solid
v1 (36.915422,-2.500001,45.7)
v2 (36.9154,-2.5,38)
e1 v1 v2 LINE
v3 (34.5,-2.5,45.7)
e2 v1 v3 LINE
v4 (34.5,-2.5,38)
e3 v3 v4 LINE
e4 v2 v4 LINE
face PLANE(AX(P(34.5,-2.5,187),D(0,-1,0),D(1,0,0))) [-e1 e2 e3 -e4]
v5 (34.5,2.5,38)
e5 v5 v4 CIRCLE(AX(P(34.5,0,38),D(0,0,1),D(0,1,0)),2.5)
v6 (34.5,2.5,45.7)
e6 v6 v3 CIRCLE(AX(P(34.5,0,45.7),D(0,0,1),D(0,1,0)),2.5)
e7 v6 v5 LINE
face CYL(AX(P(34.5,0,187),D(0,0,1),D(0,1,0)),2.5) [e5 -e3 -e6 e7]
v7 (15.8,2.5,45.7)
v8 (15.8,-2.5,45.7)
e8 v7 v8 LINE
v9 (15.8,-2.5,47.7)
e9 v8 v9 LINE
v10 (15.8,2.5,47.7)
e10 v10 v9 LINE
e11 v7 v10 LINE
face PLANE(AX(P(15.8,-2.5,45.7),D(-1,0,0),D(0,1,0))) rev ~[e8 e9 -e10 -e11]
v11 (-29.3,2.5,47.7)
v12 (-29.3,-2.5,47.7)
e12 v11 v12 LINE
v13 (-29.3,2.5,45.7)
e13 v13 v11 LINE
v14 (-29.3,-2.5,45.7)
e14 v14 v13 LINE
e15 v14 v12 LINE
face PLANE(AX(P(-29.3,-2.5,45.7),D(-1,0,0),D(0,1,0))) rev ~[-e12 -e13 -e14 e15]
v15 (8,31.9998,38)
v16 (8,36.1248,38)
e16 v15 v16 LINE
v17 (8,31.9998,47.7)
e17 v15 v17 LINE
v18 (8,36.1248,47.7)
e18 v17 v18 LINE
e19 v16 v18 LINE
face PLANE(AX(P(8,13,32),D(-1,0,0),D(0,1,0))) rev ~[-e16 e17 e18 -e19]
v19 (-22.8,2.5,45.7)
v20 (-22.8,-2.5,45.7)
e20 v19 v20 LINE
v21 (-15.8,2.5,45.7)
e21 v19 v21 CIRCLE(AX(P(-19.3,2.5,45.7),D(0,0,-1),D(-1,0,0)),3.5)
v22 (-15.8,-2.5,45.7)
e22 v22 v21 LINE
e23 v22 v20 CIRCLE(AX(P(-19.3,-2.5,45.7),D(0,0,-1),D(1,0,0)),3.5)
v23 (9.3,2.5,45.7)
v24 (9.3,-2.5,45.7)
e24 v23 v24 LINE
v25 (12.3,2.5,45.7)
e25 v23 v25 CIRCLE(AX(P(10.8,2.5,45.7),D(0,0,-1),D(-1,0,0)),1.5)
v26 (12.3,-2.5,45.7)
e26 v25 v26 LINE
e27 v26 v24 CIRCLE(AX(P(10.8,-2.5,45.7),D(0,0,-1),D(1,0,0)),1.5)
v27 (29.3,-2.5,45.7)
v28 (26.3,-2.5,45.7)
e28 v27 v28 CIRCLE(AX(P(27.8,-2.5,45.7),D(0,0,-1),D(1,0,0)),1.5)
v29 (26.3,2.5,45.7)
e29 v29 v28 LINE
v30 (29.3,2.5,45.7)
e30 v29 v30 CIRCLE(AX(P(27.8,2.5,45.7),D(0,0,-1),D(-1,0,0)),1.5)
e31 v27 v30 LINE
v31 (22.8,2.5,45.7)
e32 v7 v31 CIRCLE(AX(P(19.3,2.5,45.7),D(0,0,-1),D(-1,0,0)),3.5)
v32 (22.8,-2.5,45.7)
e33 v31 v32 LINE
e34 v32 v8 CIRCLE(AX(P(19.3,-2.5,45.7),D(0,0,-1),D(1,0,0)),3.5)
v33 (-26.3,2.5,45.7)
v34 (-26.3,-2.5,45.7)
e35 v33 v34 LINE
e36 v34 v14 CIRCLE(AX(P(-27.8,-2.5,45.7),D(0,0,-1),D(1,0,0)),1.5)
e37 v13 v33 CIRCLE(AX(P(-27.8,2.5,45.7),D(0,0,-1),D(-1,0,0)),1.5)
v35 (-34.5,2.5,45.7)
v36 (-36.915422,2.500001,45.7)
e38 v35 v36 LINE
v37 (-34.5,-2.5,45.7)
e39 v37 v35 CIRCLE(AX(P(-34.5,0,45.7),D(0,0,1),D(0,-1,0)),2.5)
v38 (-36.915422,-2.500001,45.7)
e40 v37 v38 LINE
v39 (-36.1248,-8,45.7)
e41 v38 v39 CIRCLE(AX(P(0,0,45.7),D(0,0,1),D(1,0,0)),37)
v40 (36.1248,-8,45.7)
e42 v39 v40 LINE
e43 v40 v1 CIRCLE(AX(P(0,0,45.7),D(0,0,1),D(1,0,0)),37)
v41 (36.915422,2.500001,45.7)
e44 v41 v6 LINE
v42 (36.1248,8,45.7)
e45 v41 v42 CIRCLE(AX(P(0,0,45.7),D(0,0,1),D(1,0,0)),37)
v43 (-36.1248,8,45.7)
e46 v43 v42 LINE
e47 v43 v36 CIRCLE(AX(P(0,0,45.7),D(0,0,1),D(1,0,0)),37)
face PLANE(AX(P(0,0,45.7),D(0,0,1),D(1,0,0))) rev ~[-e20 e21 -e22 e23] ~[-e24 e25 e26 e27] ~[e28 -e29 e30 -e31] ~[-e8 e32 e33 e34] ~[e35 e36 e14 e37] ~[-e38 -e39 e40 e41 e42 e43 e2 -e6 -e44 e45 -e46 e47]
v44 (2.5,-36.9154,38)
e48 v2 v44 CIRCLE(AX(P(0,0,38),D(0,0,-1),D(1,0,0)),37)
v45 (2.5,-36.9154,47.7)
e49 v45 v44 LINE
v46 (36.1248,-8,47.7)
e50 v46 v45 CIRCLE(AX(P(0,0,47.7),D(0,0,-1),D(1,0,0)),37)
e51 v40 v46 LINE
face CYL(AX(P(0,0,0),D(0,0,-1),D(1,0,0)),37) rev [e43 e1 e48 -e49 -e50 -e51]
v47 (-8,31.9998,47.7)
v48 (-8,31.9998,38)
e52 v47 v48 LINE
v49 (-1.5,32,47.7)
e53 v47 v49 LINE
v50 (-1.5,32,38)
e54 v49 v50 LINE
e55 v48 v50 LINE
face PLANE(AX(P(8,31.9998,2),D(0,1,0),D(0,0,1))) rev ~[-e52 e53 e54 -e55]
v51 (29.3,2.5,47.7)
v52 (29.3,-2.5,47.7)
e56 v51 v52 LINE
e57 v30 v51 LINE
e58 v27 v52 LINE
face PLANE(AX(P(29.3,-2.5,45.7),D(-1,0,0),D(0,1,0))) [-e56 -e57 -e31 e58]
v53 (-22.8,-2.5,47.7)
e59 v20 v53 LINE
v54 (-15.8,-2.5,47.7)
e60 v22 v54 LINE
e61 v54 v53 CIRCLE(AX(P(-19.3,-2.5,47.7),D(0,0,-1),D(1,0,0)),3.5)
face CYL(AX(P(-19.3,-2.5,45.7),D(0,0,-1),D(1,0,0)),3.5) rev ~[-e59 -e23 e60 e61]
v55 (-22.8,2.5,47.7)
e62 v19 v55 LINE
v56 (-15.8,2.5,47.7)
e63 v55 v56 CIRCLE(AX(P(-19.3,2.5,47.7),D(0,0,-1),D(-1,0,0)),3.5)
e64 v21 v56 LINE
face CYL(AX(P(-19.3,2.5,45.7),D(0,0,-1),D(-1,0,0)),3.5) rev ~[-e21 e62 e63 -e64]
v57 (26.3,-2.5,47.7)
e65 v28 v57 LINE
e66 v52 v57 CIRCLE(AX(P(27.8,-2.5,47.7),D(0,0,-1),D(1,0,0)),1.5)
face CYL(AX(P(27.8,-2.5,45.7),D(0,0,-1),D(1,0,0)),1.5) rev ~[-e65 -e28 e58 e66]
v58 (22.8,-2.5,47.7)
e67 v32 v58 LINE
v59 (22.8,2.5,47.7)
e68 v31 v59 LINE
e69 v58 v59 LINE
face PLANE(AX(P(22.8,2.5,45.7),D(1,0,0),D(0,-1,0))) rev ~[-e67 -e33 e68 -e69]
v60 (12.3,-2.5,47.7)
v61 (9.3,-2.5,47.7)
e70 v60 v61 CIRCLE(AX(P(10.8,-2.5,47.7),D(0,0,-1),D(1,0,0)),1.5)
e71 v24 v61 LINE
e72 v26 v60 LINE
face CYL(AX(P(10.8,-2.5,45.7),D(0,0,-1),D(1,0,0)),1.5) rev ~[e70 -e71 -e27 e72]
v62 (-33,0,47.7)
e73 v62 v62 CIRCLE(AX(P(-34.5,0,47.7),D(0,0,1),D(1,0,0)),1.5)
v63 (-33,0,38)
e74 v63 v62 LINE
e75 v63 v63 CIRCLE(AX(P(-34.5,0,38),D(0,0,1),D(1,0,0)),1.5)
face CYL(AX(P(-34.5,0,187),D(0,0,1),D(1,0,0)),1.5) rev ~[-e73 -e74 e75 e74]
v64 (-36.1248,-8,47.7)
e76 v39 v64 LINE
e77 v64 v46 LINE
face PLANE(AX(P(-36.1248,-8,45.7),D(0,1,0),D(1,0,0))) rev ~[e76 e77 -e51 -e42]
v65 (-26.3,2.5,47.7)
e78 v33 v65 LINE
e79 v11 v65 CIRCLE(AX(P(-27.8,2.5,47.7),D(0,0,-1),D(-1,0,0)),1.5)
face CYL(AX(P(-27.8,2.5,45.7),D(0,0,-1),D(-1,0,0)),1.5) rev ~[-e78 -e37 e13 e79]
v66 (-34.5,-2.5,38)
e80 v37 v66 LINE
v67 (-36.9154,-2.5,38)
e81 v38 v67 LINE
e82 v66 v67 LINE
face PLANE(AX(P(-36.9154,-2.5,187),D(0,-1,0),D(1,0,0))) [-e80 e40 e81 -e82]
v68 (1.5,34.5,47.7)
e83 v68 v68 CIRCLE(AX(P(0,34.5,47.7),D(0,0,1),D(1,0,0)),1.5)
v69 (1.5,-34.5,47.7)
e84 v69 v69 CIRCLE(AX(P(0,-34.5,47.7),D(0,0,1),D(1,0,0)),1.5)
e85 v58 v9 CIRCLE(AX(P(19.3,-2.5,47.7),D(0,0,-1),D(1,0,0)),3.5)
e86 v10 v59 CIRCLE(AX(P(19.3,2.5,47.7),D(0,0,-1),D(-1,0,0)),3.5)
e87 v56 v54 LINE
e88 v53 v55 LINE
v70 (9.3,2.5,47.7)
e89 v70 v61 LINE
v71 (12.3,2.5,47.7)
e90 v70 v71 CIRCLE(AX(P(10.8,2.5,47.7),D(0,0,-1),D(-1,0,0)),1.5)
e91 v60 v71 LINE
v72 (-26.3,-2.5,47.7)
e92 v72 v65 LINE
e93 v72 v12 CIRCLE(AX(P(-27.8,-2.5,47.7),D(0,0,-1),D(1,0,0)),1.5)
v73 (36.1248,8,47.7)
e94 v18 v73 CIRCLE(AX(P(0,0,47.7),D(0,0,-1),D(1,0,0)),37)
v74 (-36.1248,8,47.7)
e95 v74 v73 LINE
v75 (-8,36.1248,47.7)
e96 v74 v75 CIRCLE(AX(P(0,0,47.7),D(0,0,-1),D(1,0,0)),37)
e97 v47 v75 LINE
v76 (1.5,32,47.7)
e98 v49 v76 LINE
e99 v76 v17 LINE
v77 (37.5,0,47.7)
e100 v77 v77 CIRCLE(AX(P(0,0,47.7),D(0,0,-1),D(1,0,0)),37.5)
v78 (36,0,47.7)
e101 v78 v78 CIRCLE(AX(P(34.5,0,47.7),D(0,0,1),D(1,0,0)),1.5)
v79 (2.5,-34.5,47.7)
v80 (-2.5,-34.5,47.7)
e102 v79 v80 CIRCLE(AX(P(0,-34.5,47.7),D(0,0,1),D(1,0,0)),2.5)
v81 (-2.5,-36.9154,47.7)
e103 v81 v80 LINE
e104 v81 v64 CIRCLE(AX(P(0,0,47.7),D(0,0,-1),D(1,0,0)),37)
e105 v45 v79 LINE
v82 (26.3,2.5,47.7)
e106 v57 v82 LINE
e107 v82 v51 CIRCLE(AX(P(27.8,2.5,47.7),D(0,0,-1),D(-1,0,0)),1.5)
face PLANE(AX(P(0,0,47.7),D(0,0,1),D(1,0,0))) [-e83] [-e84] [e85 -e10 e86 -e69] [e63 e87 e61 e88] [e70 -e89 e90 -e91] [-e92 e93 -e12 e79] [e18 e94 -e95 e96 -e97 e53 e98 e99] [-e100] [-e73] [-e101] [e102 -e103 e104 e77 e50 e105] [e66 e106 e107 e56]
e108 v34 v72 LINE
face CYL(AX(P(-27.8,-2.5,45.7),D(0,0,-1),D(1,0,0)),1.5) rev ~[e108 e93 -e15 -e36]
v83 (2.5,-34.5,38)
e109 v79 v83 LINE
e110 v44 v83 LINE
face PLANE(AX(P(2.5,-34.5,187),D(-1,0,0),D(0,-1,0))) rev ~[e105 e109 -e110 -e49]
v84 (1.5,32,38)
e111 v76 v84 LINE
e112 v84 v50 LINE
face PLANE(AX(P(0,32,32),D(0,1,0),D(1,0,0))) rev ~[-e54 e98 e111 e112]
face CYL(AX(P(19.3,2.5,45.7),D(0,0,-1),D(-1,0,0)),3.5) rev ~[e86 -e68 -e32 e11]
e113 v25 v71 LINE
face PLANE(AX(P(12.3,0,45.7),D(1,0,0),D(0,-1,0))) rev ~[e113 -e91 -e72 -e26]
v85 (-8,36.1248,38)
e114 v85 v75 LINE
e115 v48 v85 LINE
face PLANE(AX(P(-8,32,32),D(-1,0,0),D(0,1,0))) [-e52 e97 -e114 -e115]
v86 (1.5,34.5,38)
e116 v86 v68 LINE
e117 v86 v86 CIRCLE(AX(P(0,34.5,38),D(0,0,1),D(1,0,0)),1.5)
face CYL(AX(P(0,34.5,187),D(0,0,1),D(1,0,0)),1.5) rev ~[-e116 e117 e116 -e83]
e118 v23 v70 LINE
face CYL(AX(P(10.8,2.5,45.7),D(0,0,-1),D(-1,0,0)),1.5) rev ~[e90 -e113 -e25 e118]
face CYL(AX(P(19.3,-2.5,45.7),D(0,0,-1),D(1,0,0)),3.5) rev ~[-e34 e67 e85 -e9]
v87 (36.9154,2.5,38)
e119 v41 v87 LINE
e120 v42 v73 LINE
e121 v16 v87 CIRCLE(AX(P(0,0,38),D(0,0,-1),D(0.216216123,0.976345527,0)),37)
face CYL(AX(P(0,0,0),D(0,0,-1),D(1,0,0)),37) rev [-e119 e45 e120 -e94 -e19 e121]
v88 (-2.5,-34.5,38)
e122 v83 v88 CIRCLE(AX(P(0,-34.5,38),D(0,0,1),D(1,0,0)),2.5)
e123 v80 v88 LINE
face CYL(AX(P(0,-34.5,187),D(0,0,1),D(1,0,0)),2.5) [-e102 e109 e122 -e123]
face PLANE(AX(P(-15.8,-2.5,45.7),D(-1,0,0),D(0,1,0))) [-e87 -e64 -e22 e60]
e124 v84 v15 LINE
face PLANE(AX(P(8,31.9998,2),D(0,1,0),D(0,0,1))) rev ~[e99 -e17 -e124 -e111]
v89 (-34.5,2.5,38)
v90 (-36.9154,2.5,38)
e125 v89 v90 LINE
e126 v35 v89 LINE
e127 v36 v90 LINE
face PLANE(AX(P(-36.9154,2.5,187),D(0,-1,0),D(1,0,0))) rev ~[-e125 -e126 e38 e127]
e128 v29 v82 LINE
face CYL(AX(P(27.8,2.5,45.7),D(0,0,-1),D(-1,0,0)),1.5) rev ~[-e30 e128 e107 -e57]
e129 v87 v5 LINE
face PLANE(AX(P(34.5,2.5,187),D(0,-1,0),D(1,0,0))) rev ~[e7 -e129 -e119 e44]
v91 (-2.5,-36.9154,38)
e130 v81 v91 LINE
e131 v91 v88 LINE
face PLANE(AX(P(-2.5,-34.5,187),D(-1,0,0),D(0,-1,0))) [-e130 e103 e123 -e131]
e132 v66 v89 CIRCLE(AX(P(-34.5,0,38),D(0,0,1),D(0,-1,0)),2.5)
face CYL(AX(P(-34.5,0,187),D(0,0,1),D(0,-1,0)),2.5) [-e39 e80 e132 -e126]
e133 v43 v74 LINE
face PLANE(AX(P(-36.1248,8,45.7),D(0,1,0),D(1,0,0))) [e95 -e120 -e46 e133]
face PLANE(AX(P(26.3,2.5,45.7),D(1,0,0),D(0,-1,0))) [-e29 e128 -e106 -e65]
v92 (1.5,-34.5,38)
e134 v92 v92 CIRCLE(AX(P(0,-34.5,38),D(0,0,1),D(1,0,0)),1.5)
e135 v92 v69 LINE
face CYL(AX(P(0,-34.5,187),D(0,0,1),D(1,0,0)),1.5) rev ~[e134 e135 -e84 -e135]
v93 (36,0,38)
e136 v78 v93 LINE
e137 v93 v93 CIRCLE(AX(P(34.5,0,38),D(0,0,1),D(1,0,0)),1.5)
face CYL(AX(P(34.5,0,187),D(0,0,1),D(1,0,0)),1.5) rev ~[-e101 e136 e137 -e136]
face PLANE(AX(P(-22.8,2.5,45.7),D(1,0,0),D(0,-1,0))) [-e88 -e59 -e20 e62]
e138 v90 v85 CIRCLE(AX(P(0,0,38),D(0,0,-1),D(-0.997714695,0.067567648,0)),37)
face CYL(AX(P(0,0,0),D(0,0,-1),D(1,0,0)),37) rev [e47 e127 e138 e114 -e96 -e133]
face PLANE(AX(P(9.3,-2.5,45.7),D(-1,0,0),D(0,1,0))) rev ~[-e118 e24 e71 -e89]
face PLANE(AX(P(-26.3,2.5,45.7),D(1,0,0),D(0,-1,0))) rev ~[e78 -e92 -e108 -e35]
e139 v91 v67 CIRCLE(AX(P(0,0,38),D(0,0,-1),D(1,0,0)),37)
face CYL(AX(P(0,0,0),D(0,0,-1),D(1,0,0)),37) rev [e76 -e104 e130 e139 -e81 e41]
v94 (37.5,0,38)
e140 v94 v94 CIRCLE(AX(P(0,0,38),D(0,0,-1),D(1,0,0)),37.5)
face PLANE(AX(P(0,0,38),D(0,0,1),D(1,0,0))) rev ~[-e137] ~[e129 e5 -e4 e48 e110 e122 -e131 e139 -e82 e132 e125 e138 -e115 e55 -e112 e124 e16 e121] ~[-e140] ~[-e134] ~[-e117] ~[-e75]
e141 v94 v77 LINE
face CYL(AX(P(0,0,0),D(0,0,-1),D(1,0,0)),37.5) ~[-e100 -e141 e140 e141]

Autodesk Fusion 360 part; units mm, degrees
sketch "Esboço2" plane through (0, 0, 0) normal (0, 0, 1) x (1, 0, 0)
  circle A0 centre (0, 0) radius 37.5
  circle A1 centre (0, 0) radius 37
  dimension "d6" = 75
  dimension "d7" = 74
extrude "Extrusão2" add sketch "Esboço2" along normal blind 190
ref_plane "Plano de trabalho9" through (0, 0, 187) normal (0, 0, 1) x (1, 0, 0)
sketch "Esboço10" plane through (0, 0, 187) normal (0, 0, 1) x (1, 0, 0)
  circle A0 centre (0, 0) radius 34.5 construction
  line L0 (0, 0) -> (-68.1762, 0) construction
  line L1 (0, 0) -> (60, 0) construction
  line L2 (0, 0) -> (0, 45) construction
  line L3 (0, 0) -> (0, -43.1659) construction
  circle A1 centre (34.5, 0) radius 1.5
  line L4 (3, -43) -> (3, -42)
  circle A2 centre (0, 34.5) radius 1.5
  circle A3 centre (-34.5, 0) radius 1.5
  circle A4 centre (0, -34.5) radius 1.5
  arc A5 (34.5, 2.5) -> (34.5, -2.5) centre (34.5, 0) ccw
  arc A6 (-2.5, 34.5) -> (2.5, 34.5) centre (0, 34.5) ccw
  arc A7 (-34.5, -2.5) -> (-34.5, 2.5) centre (-34.5, 0) ccw
  arc A8 (2.5, -34.5) -> (-2.5, -34.5) centre (0, -34.5) ccw
  circle A9 centre (0, 0) radius 37
  line L5 (-36.9154, 2.5) -> (-34.4093, 2.5)
  line L6 (-36.9154, -2.5) -> (-34.4093, -2.5)
  line L7 (34.5, 2.5) -> (36.9154, 2.5)
  line L8 (34.5, -2.5) -> (36.9154, -2.5)
  line L9 (2.5, 36.9154) -> (2.5, 34.4093)
  line L10 (-2.5, 36.9154) -> (-2.5, 34.4093)
  line L11 (-2.5, -34.4093) -> (-2.5, -36.9154)
  line L12 (2.5, -34.4093) -> (2.5, -36.9154)
  dimension "d82" = 69
  dimension "d83" = 3
  dimension "d84" = 2.5
  dimension "d85" = 2.5
  dimension "d87" = 360
  dimension "d89" = 360
  dimension "d90" = 2.5
extrude "Extrusão12" add sketch "Esboço10" against normal blind 184 contours A5 A9 L7 L8 | A6 A9 L9 L10 | A8 A9 L11 L12 | A7 A9 L5 L6
thread "Rosca3"
ref_plane "Plano de trabalho3" through (0, 0, 32) normal (0, 0, 1) x (1, 0, 0)
sketch "Esboço3" plane through (0, 0, 32) normal (0, 0, 1) x (1, 0, 0)
  line L0 (0, 0) -> (0, 37) construction
  line L1 (34.2491, 14) -> (-34.2491, 14)
  circle A0 centre (0, 0) radius 37
  line L2 (31.1288, 20) -> (-31.1288, 20)
  line L3 (32.8634, 17) -> (-32.8634, 17)
  circle A1 centre (0, 0) radius 50
  circle A2 centre (0, 0) radius 37.5
  line L4 (-8, 0) -> (8, 0)
  line L5 (8, 0) -> (8, 36.1248)
  line L6 (-8, 0) -> (-8, 36.1248)
  circle A3 centre (0, 34.5) radius 1.5
  line L7 (1.5, 32.5) -> (1.5, 0)
  arc A4 (-2.5, 34.5) -> (2.5, 34.5) centre (0, 34.5) ccw
  line L8 (-1.5, 32.5) -> (-1.5, 0)
  line L9 (27.8634, 24.3441) -> (27.8634, 11)
  line L10 (27.8634, 11) -> (35.327, 11)
  line L11 (-27.8634, 11) -> (-35.327, 11)
  line L12 (-27.8634, 24.3441) -> (-27.8634, 11)
  line L13 (-30.4631, 21) -> (30.4631, 21)
  line L14 (-34.641, 13) -> (34.641, 13)
  line L15 (0, 32) -> (8, 32)
  line L16 (0, 32) -> (-8, 32)
  dimension "d12" = 6
  dimension "d15" = 3
  dimension "d17" = 75
  dimension "d18" = 100
  dimension "d41" = 14
  dimension "d51" = 8
  dimension "d52" = 16
  dimension "d99" = 3
  dimension "d100" = 2.5
  dimension "d115" = 6.5
  dimension "d123" = 5
  dimension "d124" = 6
  dimension "d143" = 4
  dimension "d144" = 4
extrude "Extrusão21" add sketch "Esboço3" along normal blind 6 and the other way blind 6 contours L1 A0 L9 L14 | L1 A0 L3 L9 | A0 L9 L10 L14 | A0 L2 L3 L9 | A0 L2 L9 L13 | A0 L9 L13 | A0 L11 L12 L14 | L1 A0 L12 L14 | L1 A0 L3 L12 | A0 L2 L3 L12 | A0 L12 L13 | A0 L2 L12 L13
sketch "Esboço18" plane through (-27.8634, 0, 0) normal (1, 0, 0) x (0, 1, 0)
  line L0 (24.3441, 26) -> (24.3441, 38)
  line L1 (24.3441, 38) -> (11, 38)
  line L2 (11, 38) -> (11, 26)
  line L3 (11, 26) -> (24.3441, 26)
  circle A0 centre (17, 32) radius 4
  point P0 (11, 32)
  dimension "d166" = 8
  dimension "d167" = 6
  dimension "d168" = 6
ref_plane "Plano de trabalho11" through (0, 0, 0) normal (1, 0, 0) x (0, 1, 0)
extrude "Extrusão23" cut sketch "Esboço18" against normal blind 15 contours A0
extrude "Extrusão7" add sketch "Esboço3" along normal blind 30 and the other way blind 30 contours L1 L5 L7 L14 | L1 L3 L5 L7 | L4 L5 L7 L14 | L2 L3 L5 L7 | L1 L6 L8 L14 | L1 L3 L6 L8 | L2 L5 L7 L13 | L2 L3 L6 L8 | L4 L6 L8 L14 | L5 L7 L13 L15 | A0 L5 L6 L7 A4 L8 L15 L16 | L2 L6 L8 L13 | L6 L8 L13 L16 | L7 A4 L15 | A4 L8 L16
sketch "Esboço19" plane through (27.8634, 0, 0) normal (-1, 0, 0) x (0, -1, 0)
  line L0 (-11, 26) -> (-11, 38)
  line L1 (-11, 38) -> (-24.3441, 38)
  line L2 (-24.3441, 38) -> (-24.3441, 26)
  line L3 (-24.3441, 26) -> (-11, 26)
extrude "Extrusão24" cut sketch "Esboço18" along normal blind 80 contours A0
sketch "Esboço11" plane through (8, 0, 0) normal (1, 0, 0) x (0, 1, 0)
  line L0 (0, 2) -> (36.1248, 2)
  line L1 (36.1248, 2) -> (36.1248, 62)
  line L2 (36.1248, 62) -> (0, 62)
  line L3 (0, 62) -> (0, 2)
  circle A0 centre (17, 32) radius 3
  circle A1 centre (17, 32) radius 9.5
  circle A2 centre (17, 32) radius 12.5
  line L4 (36.1248, 32) -> (36.1248, -5) construction
  line L5 (0, 32) -> (36.1248, 32)
  line L6 (30.1248, 2) -> (8.3278, 22.9976)
  line L7 (30.1248, 62) -> (8.3278, 41.0024)
  line L8 (30.1248, 2) -> (31.9998, 2)
  line L9 (31.9998, 2) -> (31.9998, 32)
  line L10 (30.1248, 62) -> (31.9998, 62)
  line L11 (31.9998, 62) -> (31.9998, 32)
  circle A3 centre (17, 32) radius 4
  point P0 (14, 32)
  point P1 (20, 32)
  dimension "d106" = 6
  dimension "d107" = 19
  dimension "d109" = 25
  dimension "d110" = 6
  dimension "d147" = 1.875
extrude "Extrusão13" cut sketch "Esboço11" against normal blind 16 contours L0 L3 A2 L5 L6 | L0 A2 L5 L6 L8 L9 | L2 L3 A2 L5 L7 | A1 A2 L5 | A1 A2 L5 | L2 A2 L5 L7 L10 L11 | A1 L5 A3 | A1 L5 A3 | A0 L5 A3 | A0 L5 A3 | A0 L5 | A0 L5
ref_plane "Plano de trabalho4" through (0, 0, 150) normal (0, 0, 1) x (1, 0, 0)
sketch "Esboço4" plane through (0, 0, 150) normal (0, 0, 1) x (1, 0, 0)
  circle A0 centre (0, 0) radius 37
  circle A1 centre (0, 0) radius 50
  circle A2 centre (0, 0) radius 37.5
  line L0 (-20, -31.1288) -> (-20, 31.1288)
  line L1 (-17, -32.8634) -> (-17, 32.8634)
  line L2 (-14, -34.2491) -> (-14, 34.2491)
  line L3 (0, 8) -> (0, -8)
  line L4 (0, 8) -> (-36.1248, 8)
  line L5 (0, -8) -> (-36.1248, -8)
  line L6 (0, 0) -> (-37, 0) construction
  circle A3 centre (-34.5, 0) radius 1.5
  line L7 (0, 1.5) -> (-32.5, 1.5)
  arc A4 (-34.5, -2.5) -> (-34.5, 2.5) centre (-34.5, 0) ccw
  line L8 (0, -1.5) -> (-32.5, -1.5)
  line L9 (-24.3441, -27.8634) -> (-11, -27.8634)
  line L10 (-11, -27.8634) -> (-11, -35.327)
  line L11 (-24.3441, 27.8634) -> (-11, 27.8634)
  line L12 (-11, 27.8634) -> (-11, 35.327)
  line L13 (-13, 34.641) -> (-13, -34.641)
  line L14 (-21, 30.4631) -> (-21, -30.4631)
  line L15 (-32, 0) -> (-32, 8)
  line L16 (-32, 0) -> (-32, -8)
  dimension "d28" = 75
  dimension "d29" = 100
  dimension "d38" = 14
  dimension "d39" = 6
  dimension "d40" = 3
  dimension "d43" = 16
  dimension "d44" = 8
  dimension "d101" = 3
  dimension "d102" = 2.5
  dimension "d116" = 6.5
  dimension "d135" = 6
  dimension "d136" = 5
  dimension "d145" = 4
  dimension "d146" = 4
extrude "Extrusão25" add sketch "Esboço4" along normal blind 6 and the other way blind 6 contours A0 L11 L12 L13 | A0 L9 L10 L13 | A0 L2 L11 L13 | A0 L2 L9 L13 | A0 L1 L2 L11 | A0 L1 L2 L9 | A0 L0 L1 L11 | A0 L0 L1 L9 | A0 L0 L11 L14 | A0 L0 L9 L14 | A0 L11 L14 | A0 L9 L14
sketch "Esboço20" plane through (0, 27.8634, 0) normal (0, -1, 0) x (1, 0, 0)
  line L0 (-11, 144) -> (-11, 156)
  line L1 (-11, 156) -> (-24.3441, 156)
  line L2 (-24.3441, 156) -> (-24.3441, 144)
  line L3 (-24.3441, 144) -> (-11, 144)
  circle A0 centre (-17, 150) radius 4
  dimension "d179" = 8
  dimension "d180" = 6
  dimension "d182" = 6
extrude "Extrusão26" cut sketch "Esboço20" against normal blind 15 contours A0
sketch "Esboço21" plane through (0, -27.8634, 0) normal (0, 1, 0) x (-1, 0, 0)
  line L0 (24.3441, 144) -> (24.3441, 156)
  line L1 (24.3441, 156) -> (11, 156)
  line L2 (11, 156) -> (11, 144)
  line L3 (11, 144) -> (24.3441, 144)
  circle A0 centre (17, 150) radius 4
  dimension "d185" = 8
  dimension "d186" = 6
  dimension "d187" = 6
extrude "Extrusão27" cut sketch "Esboço21" against normal blind 15 contours A0
extrude "Extrusão6" add sketch "Esboço4" along normal blind 30 and the other way blind 30 contours L2 L4 L7 L13 | L3 L4 L7 L13 | L3 L5 L8 L13 | L2 L5 L8 L13 | L1 L2 L4 L7 | L1 L2 L5 L8 | L0 L1 L4 L7 | L0 L1 L5 L8 | L0 L4 L7 L14 | L0 L5 L8 L14 | A0 L4 L5 L7 A4 L8 L15 L16 | L4 L7 L14 L15 | L5 L8 L14 L16 | L7 A4 L15 | A4 L8 L16
sketch "Esboço13" plane through (0, -8, 0) normal (0, -1, 0) x (1, 0, 0)
  line L0 (0, 120) -> (0, 180)
  line L1 (0, 180) -> (-36.1248, 180)
  line L2 (-36.1248, 180) -> (-36.1248, 120)
  line L3 (-36.1248, 120) -> (0, 120)
  circle A0 centre (-17, 150) radius 3
  circle A1 centre (-17, 150) radius 9.5
  circle A2 centre (-17, 150) radius 12.5
  line L4 (-36.1248, 150) -> (-36.1248, 198.4836) construction
  line L5 (-30.1248, 180) -> (-6.6704, 157.4058)
  line L6 (0, 150) -> (-36.1248, 150)
  line L7 (-30.1248, 120) -> (-6.6704, 142.5942)
  line L8 (-30.1248, 180) -> (-31.9998, 180)
  line L9 (-31.9998, 180) -> (-31.9998, 150)
  line L10 (-30.1248, 120) -> (-31.9998, 120)
  line L11 (-31.9998, 120) -> (-31.9998, 150)
  point P0 (-14, 150)
  point P1 (-20, 150)
  dimension "d117" = 6
  dimension "d118" = 19
  dimension "d119" = 25
  dimension "d120" = 6
  dimension "d148" = 1.875
extrude "Extrusão14" cut sketch "Esboço13" against normal blind 16 contours L0 L3 A2 L6 L7 | L0 L1 A2 L5 L6 | L3 A2 L6 L7 L10 L11 | A1 A2 L6 | A1 A2 L6 | L1 A2 L5 L6 L8 L9 | A0 A1 L6 | A0 A1 L6 | A0 L6 | A0 L6
ref_plane "Plano de trabalho5" through (0, 0, 0) normal (1, 0, 0) x (0, 1, 0)
ref_plane "Plano de trabalho6" through (0, 0, 0) normal (0, 1, 0) x (0, 0, 1)
ref_plane "Plano de trabalho7" through (0, 0, 134.3) normal (0, 0, 1) x (1, 0, 0)
sketch "Esboço8" plane through (0, 0, 134.3) normal (0, 0, 1) x (1, 0, 0)
  line L0 (46.3444, 0) -> (0, 0) construction
  line L1 (8, 36.1248) -> (8, -36.1248)
  line L2 (-8, -36.1248) -> (-8, 36.1248)
  circle A0 centre (0, 0) radius 37
  line L3 (0, 0) -> (0, 37) construction
  circle A1 centre (0, 34.5) radius 1.5
  circle A2 centre (0, -34.5) radius 1.5
  dimension "d72" = 8
  dimension "d73" = 8
  dimension "d95" = 2.5
  dimension "d96" = 3
extrude "Extrusão10" add sketch "Esboço8" along normal blind 2 contours L1 L2 A0
ref_plane "Plano de trabalho8" through (0, 0, 45.7) normal (0, 0, 1) x (1, 0, 0)
sketch "Esboço9" plane through (0, 0, 45.7) normal (0, 0, 1) x (1, 0, 0)
  line L0 (0, 0) -> (-37, 0) construction
  line L1 (-36.1248, 8) -> (36.1248, 8)
  line L2 (-36.1248, -8) -> (36.1248, -8)
  circle A0 centre (0, 0) radius 37
  circle A1 centre (-34.5, 0) radius 1.5
  line L3 (0, 0) -> (0, 43.2459) construction
  circle A2 centre (34.5, 0) radius 1.5
  dimension "d77" = 8
  dimension "d78" = 8
  dimension "d97" = 3
  dimension "d98" = 2.5
extrude "Extrusão11" add sketch "Esboço9" along normal blind 2 contours L1 L2 A0
ref_plane "Plano de trabalho10" through (8, 18.0624, 32) normal (1, 0, 0) x (0, 1, 0)
sketch "Esboço16" plane through (-31.9998, 0, 0) normal (1, 0, 0) x (0, 1, 0)
  line L0 (1.5, 180) -> (1.5, 120)
  line L1 (1.5, 120) -> (8, 120)
  line L2 (8, 120) -> (8, 180)
  line L3 (8, 180) -> (1.5, 180)
  line L4 (4.75, 180) -> (4.75, 120) construction
  circle A0 centre (4.75, 170) radius 1.5
  circle A1 centre (4.75, 130) radius 1.5
  line L5 (8, 150) -> (-12.335, 150) construction
  line L6 (0, 2.5) -> (0, 20)
  circle A2 centre (-4.75, 170) radius 1.5
  circle A3 centre (-4.75, 130) radius 1.5
  dimension "d149" = 3
  dimension "d150" = 3
  dimension "d151" = 40
  dimension "d152" = 20
extrude "Extrusão19" cut sketch "Esboço16" against normal blind 10 contours A0 | A1 | A2 | A3
sketch "Esboço17" plane through (0, 31.9998, 0) normal (0, -1, 0) x (1, 0, 0)
  line L0 (1.5, 62) -> (1.5, 2)
  line L1 (1.5, 2) -> (8, 2)
  line L2 (8, 2) -> (8, 62)
  line L3 (8, 62) -> (1.5, 62)
  line L4 (4.75, 2) -> (4.75, 62) construction
  line L5 (8, 32) -> (-12, 32) construction
  circle A0 centre (4.75, 52) radius 1.5
  circle A1 centre (4.75, 12) radius 1.5
  line L6 (0, 1.75) -> (0, 22.5)
  circle A2 centre (-4.75, 12) radius 1.5
  circle A3 centre (-4.75, 52) radius 1.5
  dimension "d155" = 3
  dimension "d156" = 3
  dimension "d157" = 40
  dimension "d158" = 20
extrude "Extrusão20" cut sketch "Esboço17" against normal blind 10 contours A0 | A1 | A2 | A3
thread "Rosca4"
thread "Rosca5"
sketch "Esboço22" plane through (0, 0, 136.3) normal (0, 0, 1) x (-1, 0, 0)
  line L0 (2.5, 36.9154) -> (2.5, 34.5)
  arc A0 (-2.5, 34.5) -> (2.5, 34.5) centre (0, 34.5) ccw
  line L1 (-2.5, 34.5) -> (-2.5, 36.9154)
  arc A1 (-2.5, 36.9154) -> (-8, 36.1248) centre (0, 0) ccw
  line L2 (-8, 36.1248) -> (-8, -36.1248)
  arc A2 (-8, -36.1248) -> (-2.5, -36.9154) centre (0, 0) ccw
  line L3 (-2.5, -36.9154) -> (-2.5, -34.5)
  arc A3 (2.5, -34.5) -> (-2.5, -34.5) centre (0, -34.5) ccw
  line L4 (2.5, -34.5) -> (2.5, -36.9154)
  arc A4 (2.5, -36.9154) -> (8, -36.1248) centre (0, 0) ccw
  line L5 (8, -36.1248) -> (8, 36.1248)
  arc A5 (8, 36.1248) -> (2.5, 36.9154) centre (0, 0) ccw
  line L6 (0, 0) -> (-21, 0) construction
  line L7 (0, 0) -> (0, -19.3) construction
  line L8 (2, -15.8) -> (-2, -15.8)
  arc A6 (-2, -15.8) -> (-2, -22.8) centre (-2, -19.3) ccw
  line L9 (-2, -22.8) -> (2, -22.8)
  arc A7 (2, -22.8) -> (2, -15.8) centre (2, -19.3) ccw
  line L10 (2, -19.3) -> (-2, -19.3) construction
  arc A8 (-2, 22.8) -> (-2, 15.8) centre (-2, 19.3) ccw
  line L11 (2, 15.8) -> (-2, 15.8)
  arc A9 (2, 15.8) -> (2, 22.8) centre (2, 19.3) ccw
  line L12 (-2, 22.8) -> (2, 22.8)
  circle A10 centre (0, 10.8) radius 1.5 construction
  line L13 (2, 19.3) -> (-2, 19.3) construction
  line L14 (2, 12.3) -> (-2, 12.3)
  arc A11 (-2, 12.3) -> (-2, 9.3) centre (-2, 10.8) ccw
  line L15 (-2, 9.3) -> (2, 9.3)
  arc A12 (2, 9.3) -> (2, 12.3) centre (2, 10.8) ccw
  line L16 (2, 10.8) -> (-2, 10.8) construction
  line L17 (2, 26.3) -> (-2, 26.3)
  arc A13 (2, 26.3) -> (2, 29.3) centre (2, 27.8) ccw
  line L18 (-2, 29.3) -> (2, 29.3)
  arc A14 (-2, 29.3) -> (-2, 26.3) centre (-2, 27.8) ccw
  arc A15 (2, -29.3) -> (2, -26.3) centre (2, -27.8) ccw
  line L19 (2, -26.3) -> (-2, -26.3)
  arc A16 (-2, -26.3) -> (-2, -29.3) centre (-2, -27.8) ccw
  line L20 (-2, -29.3) -> (2, -29.3)
  arc A17 (2, -12.3) -> (2, -9.3) centre (2, -10.8) ccw
  line L21 (-2, -9.3) -> (2, -9.3)
  arc A18 (-2, -9.3) -> (-2, -12.3) centre (-2, -10.8) ccw
  line L22 (2, -12.3) -> (-2, -12.3)
  point P0 (0, -19.3)
  point P1 (0, 10.8)
  dimension "d191" = 19.3
  dimension "d195" = 2
  dimension "d196" = 3.5
  dimension "d204" = 3
  dimension "d205" = 8.5
  dimension "d230" = 1.5
  dimension "d231" = 4
extrude "Extrusão28" cut sketch "Esboço22" against normal blind 5 contours L8 A6 L9 A7 | A8 L11 A9 L12 | L14 A11 L15 A12 | L17 A13 L18 A14 | A15 L19 A16 L20 | A17 L21 A18 L22
sketch "Esboço23" plane through (0, 0, 45.7) normal (0, 0, -1) x (1, 0, 0)
  line L0 (36.9154, -2.5) -> (34.5, -2.5)
  arc A0 (34.5, 2.5) -> (34.5, -2.5) centre (34.5, 0) ccw
  line L1 (34.5, 2.5) -> (36.9154, 2.5)
  arc A1 (36.9154, 2.5) -> (36.1248, 8) centre (0, 0) ccw
  line L2 (36.1248, 8) -> (-36.1248, 8)
  arc A2 (-36.1248, 8) -> (-36.9154, 2.5) centre (0, 0) ccw
  line L3 (-36.9154, 2.5) -> (-34.5, 2.5)
  arc A3 (-34.5, -2.5) -> (-34.5, 2.5) centre (-34.5, 0) ccw
  line L4 (-34.5, -2.5) -> (-36.9154, -2.5)
  arc A4 (-36.9154, -2.5) -> (-36.1248, -8) centre (0, 0) ccw
  line L5 (-36.1248, -8) -> (36.1248, -8)
  arc A5 (36.1248, -8) -> (36.9154, -2.5) centre (0, 0) ccw
  line L6 (0, 0) -> (0, -19) construction
  line L7 (0, 0) -> (19.3, 0)
  line L8 (15.8, 2.5) -> (15.8, -2.5)
  arc A6 (15.8, -2.5) -> (22.8, -2.5) centre (19.3, -2.5) ccw
  line L9 (22.8, -2.5) -> (22.8, 2.5)
  arc A7 (22.8, 2.5) -> (15.8, 2.5) centre (19.3, 2.5) ccw
  line L10 (19.3, 2.5) -> (19.3, -2.5) construction
  line L11 (-15.8, 2.5) -> (-15.8, -2.5)
  arc A8 (-15.8, 2.5) -> (-22.8, 2.5) centre (-19.3, 2.5) ccw
  line L12 (-22.8, -2.5) -> (-22.8, 2.5)
  arc A9 (-22.8, -2.5) -> (-15.8, -2.5) centre (-19.3, -2.5) ccw
  circle A10 centre (10.8, 0) radius 1.5 construction
  circle A11 centre (27.8, 0) radius 1.5 construction
  line L13 (9.3, 2.5) -> (9.3, -2.5)
  arc A12 (9.3, -2.5) -> (12.3, -2.5) centre (10.8, -2.5) ccw
  line L14 (12.3, -2.5) -> (12.3, 2.5)
  arc A13 (12.3, 2.5) -> (9.3, 2.5) centre (10.8, 2.5) ccw
  line L15 (10.8, 2.5) -> (10.8, -2.5) construction
  line L16 (26.3, -2.5) -> (26.3, 2.5)
  arc A14 (26.3, -2.5) -> (29.3, -2.5) centre (27.8, -2.5) ccw
  line L17 (29.3, 2.5) -> (29.3, -2.5)
  arc A15 (29.3, 2.5) -> (26.3, 2.5) centre (27.8, 2.5) ccw
  line L18 (-12.3, -2.5) -> (-12.3, 2.5)
  arc A16 (-12.3, -2.5) -> (-9.3, -2.5) centre (-10.8, -2.5) ccw
  line L19 (-9.3, 2.5) -> (-9.3, -2.5)
  arc A17 (-9.3, 2.5) -> (-12.3, 2.5) centre (-10.8, 2.5) ccw
  line L20 (-26.3, -2.5) -> (-26.3, 2.5)
  arc A18 (-29.3, -2.5) -> (-26.3, -2.5) centre (-27.8, -2.5) ccw
  line L21 (-29.3, 2.5) -> (-29.3, -2.5)
  arc A19 (-26.3, 2.5) -> (-29.3, 2.5) centre (-27.8, 2.5) ccw
  point P0 (19.3, 0)
  point P1 (10.8, 0)
  dimension "d199" = 3.5
  dimension "d200" = 5
  dimension "d201" = 19.3
  dimension "d206" = 3
  dimension "d207" = 8.5
  dimension "d228" = 2.5
  dimension "d229" = 1.5
extrude "Extrusão29" cut sketch "Esboço23" against normal blind 10 contours L7 L13 L14 A13 | L8 A6 L9 A7 | L7 L13 A12 L14 | L11 A8 L12 A9 | L16 A14 L17 A15 | L20 A18 L21 A19
ref_plane "Plano de trabalho12" through (0, 0, 106.3) normal (0, 0, 1) x (1, 0, 0)
sketch "Esboço24" plane through (0, 0, 106.3) normal (0, 0, 1) x (1, 0, 0)
  line L0 (0, 0) -> (28.1868, 0) construction
  line L1 (16, 0) -> (16, 33.3617)
  circle A0 centre (0, 0) radius 37
  line L2 (16, 0) -> (16, -33.3617)
  line L3 (0, 0) -> (0, 19.3) construction
  line L4 (-16, 0) -> (-16, 33.3617)
  line L5 (-16, 0) -> (-16, -33.3617)
  line L6 (-2, 6.8) -> (2, 6.8)
  arc A1 (2, 6.8) -> (2, 31.8) centre (2, 19.3) ccw
  line L7 (2, 31.8) -> (-2, 31.8)
  arc A2 (-2, 31.8) -> (-2, 6.8) centre (-2, 19.3) ccw
  line L8 (-2, 19.3) -> (2, 19.3) construction
  arc A3 (2, -31.8) -> (2, -6.8) centre (2, -19.3) ccw
  arc A4 (-2, -6.8) -> (-2, -31.8) centre (-2, -19.3) ccw
  line L9 (-2, -6.8) -> (2, -6.8)
  line L10 (2, -31.8) -> (-2, -31.8)
  circle A5 centre (0, 34.5) radius 1.5
  circle A6 centre (0, -34.5) radius 1.5
  point P0 (0, 19.3)
  dimension "d209" = 16
  dimension "d210" = 12.5
  dimension "d211" = 4
  dimension "d212" = 19.3
  dimension "d215" = 3
  dimension "d216" = 34.5
ref_plane "Plano de trabalho13" through (0, 0, 55.7) normal (0, 0, -1) x (-1, 0, 0)
ref_plane "Plano de trabalho14" through (0, 0, 60) normal (0, 0, 1) x (1, 0, 0)
sketch "Esboço25" plane through (0, 0, 55.7) normal (0, 0, -1) x (1, 0, 0)
  line L0 (-33.3617, 16) -> (33.3617, 16)
  circle A0 centre (0, 0) radius 37
  line L1 (0, 0) -> (-19.3, 0) construction
  line L2 (-33.3617, -16) -> (33.3617, -16)
  line L3 (-6.8, -2) -> (-6.8, 2)
  arc A1 (-6.8, 2) -> (-31.8, 2) centre (-19.3, 2) ccw
  line L4 (-31.8, 2) -> (-31.8, -2)
  arc A2 (-31.8, -2) -> (-6.8, -2) centre (-19.3, -2) ccw
  line L5 (-19.3, -2) -> (-19.3, 2) construction
  circle A3 centre (-34.5, 0) radius 1.5
  line L6 (0, 0) -> (0, -12) construction
  arc A4 (31.8, 2) -> (6.8, 2) centre (19.3, 2) ccw
  line L7 (6.8, -2) -> (6.8, 2)
  arc A5 (6.8, -2) -> (31.8, -2) centre (19.3, -2) ccw
  circle A6 centre (34.5, 0) radius 1.5
  line L8 (31.8, 2) -> (31.8, -2)
  point P0 (-19.3, 0)
  dimension "d219" = 16
  dimension "d220" = 12.5
  dimension "d221" = 4
  dimension "d222" = 19.3
  dimension "d224" = 34.5
  dimension "d225" = 3
ref_plane "Plano de trabalho15" through (0, 0, 38) normal (0, 0, 1) x (1, 0, 0)
ref_plane "Plano de trabalho16" through (0, 0, 47.7) normal (0, 0, 1) x (1, 0, 0)
sketch "Esboço26" plane through (0, 0, 47.7) normal (0, 0, 1) x (1, 0, 0)
  circle A0 centre (0, 0) radius 44.2832
extrude "Extrusão32" cut sketch "Esboço26" along normal blind 200
sketch "Esboço27" plane through (0, 0, 38) normal (0, 0, 1) x (1, 0, 0)
  circle A0 centre (0, 0) radius 43.6005
extrude "Extrusão33" cut sketch "Esboço27" against normal blind 100
